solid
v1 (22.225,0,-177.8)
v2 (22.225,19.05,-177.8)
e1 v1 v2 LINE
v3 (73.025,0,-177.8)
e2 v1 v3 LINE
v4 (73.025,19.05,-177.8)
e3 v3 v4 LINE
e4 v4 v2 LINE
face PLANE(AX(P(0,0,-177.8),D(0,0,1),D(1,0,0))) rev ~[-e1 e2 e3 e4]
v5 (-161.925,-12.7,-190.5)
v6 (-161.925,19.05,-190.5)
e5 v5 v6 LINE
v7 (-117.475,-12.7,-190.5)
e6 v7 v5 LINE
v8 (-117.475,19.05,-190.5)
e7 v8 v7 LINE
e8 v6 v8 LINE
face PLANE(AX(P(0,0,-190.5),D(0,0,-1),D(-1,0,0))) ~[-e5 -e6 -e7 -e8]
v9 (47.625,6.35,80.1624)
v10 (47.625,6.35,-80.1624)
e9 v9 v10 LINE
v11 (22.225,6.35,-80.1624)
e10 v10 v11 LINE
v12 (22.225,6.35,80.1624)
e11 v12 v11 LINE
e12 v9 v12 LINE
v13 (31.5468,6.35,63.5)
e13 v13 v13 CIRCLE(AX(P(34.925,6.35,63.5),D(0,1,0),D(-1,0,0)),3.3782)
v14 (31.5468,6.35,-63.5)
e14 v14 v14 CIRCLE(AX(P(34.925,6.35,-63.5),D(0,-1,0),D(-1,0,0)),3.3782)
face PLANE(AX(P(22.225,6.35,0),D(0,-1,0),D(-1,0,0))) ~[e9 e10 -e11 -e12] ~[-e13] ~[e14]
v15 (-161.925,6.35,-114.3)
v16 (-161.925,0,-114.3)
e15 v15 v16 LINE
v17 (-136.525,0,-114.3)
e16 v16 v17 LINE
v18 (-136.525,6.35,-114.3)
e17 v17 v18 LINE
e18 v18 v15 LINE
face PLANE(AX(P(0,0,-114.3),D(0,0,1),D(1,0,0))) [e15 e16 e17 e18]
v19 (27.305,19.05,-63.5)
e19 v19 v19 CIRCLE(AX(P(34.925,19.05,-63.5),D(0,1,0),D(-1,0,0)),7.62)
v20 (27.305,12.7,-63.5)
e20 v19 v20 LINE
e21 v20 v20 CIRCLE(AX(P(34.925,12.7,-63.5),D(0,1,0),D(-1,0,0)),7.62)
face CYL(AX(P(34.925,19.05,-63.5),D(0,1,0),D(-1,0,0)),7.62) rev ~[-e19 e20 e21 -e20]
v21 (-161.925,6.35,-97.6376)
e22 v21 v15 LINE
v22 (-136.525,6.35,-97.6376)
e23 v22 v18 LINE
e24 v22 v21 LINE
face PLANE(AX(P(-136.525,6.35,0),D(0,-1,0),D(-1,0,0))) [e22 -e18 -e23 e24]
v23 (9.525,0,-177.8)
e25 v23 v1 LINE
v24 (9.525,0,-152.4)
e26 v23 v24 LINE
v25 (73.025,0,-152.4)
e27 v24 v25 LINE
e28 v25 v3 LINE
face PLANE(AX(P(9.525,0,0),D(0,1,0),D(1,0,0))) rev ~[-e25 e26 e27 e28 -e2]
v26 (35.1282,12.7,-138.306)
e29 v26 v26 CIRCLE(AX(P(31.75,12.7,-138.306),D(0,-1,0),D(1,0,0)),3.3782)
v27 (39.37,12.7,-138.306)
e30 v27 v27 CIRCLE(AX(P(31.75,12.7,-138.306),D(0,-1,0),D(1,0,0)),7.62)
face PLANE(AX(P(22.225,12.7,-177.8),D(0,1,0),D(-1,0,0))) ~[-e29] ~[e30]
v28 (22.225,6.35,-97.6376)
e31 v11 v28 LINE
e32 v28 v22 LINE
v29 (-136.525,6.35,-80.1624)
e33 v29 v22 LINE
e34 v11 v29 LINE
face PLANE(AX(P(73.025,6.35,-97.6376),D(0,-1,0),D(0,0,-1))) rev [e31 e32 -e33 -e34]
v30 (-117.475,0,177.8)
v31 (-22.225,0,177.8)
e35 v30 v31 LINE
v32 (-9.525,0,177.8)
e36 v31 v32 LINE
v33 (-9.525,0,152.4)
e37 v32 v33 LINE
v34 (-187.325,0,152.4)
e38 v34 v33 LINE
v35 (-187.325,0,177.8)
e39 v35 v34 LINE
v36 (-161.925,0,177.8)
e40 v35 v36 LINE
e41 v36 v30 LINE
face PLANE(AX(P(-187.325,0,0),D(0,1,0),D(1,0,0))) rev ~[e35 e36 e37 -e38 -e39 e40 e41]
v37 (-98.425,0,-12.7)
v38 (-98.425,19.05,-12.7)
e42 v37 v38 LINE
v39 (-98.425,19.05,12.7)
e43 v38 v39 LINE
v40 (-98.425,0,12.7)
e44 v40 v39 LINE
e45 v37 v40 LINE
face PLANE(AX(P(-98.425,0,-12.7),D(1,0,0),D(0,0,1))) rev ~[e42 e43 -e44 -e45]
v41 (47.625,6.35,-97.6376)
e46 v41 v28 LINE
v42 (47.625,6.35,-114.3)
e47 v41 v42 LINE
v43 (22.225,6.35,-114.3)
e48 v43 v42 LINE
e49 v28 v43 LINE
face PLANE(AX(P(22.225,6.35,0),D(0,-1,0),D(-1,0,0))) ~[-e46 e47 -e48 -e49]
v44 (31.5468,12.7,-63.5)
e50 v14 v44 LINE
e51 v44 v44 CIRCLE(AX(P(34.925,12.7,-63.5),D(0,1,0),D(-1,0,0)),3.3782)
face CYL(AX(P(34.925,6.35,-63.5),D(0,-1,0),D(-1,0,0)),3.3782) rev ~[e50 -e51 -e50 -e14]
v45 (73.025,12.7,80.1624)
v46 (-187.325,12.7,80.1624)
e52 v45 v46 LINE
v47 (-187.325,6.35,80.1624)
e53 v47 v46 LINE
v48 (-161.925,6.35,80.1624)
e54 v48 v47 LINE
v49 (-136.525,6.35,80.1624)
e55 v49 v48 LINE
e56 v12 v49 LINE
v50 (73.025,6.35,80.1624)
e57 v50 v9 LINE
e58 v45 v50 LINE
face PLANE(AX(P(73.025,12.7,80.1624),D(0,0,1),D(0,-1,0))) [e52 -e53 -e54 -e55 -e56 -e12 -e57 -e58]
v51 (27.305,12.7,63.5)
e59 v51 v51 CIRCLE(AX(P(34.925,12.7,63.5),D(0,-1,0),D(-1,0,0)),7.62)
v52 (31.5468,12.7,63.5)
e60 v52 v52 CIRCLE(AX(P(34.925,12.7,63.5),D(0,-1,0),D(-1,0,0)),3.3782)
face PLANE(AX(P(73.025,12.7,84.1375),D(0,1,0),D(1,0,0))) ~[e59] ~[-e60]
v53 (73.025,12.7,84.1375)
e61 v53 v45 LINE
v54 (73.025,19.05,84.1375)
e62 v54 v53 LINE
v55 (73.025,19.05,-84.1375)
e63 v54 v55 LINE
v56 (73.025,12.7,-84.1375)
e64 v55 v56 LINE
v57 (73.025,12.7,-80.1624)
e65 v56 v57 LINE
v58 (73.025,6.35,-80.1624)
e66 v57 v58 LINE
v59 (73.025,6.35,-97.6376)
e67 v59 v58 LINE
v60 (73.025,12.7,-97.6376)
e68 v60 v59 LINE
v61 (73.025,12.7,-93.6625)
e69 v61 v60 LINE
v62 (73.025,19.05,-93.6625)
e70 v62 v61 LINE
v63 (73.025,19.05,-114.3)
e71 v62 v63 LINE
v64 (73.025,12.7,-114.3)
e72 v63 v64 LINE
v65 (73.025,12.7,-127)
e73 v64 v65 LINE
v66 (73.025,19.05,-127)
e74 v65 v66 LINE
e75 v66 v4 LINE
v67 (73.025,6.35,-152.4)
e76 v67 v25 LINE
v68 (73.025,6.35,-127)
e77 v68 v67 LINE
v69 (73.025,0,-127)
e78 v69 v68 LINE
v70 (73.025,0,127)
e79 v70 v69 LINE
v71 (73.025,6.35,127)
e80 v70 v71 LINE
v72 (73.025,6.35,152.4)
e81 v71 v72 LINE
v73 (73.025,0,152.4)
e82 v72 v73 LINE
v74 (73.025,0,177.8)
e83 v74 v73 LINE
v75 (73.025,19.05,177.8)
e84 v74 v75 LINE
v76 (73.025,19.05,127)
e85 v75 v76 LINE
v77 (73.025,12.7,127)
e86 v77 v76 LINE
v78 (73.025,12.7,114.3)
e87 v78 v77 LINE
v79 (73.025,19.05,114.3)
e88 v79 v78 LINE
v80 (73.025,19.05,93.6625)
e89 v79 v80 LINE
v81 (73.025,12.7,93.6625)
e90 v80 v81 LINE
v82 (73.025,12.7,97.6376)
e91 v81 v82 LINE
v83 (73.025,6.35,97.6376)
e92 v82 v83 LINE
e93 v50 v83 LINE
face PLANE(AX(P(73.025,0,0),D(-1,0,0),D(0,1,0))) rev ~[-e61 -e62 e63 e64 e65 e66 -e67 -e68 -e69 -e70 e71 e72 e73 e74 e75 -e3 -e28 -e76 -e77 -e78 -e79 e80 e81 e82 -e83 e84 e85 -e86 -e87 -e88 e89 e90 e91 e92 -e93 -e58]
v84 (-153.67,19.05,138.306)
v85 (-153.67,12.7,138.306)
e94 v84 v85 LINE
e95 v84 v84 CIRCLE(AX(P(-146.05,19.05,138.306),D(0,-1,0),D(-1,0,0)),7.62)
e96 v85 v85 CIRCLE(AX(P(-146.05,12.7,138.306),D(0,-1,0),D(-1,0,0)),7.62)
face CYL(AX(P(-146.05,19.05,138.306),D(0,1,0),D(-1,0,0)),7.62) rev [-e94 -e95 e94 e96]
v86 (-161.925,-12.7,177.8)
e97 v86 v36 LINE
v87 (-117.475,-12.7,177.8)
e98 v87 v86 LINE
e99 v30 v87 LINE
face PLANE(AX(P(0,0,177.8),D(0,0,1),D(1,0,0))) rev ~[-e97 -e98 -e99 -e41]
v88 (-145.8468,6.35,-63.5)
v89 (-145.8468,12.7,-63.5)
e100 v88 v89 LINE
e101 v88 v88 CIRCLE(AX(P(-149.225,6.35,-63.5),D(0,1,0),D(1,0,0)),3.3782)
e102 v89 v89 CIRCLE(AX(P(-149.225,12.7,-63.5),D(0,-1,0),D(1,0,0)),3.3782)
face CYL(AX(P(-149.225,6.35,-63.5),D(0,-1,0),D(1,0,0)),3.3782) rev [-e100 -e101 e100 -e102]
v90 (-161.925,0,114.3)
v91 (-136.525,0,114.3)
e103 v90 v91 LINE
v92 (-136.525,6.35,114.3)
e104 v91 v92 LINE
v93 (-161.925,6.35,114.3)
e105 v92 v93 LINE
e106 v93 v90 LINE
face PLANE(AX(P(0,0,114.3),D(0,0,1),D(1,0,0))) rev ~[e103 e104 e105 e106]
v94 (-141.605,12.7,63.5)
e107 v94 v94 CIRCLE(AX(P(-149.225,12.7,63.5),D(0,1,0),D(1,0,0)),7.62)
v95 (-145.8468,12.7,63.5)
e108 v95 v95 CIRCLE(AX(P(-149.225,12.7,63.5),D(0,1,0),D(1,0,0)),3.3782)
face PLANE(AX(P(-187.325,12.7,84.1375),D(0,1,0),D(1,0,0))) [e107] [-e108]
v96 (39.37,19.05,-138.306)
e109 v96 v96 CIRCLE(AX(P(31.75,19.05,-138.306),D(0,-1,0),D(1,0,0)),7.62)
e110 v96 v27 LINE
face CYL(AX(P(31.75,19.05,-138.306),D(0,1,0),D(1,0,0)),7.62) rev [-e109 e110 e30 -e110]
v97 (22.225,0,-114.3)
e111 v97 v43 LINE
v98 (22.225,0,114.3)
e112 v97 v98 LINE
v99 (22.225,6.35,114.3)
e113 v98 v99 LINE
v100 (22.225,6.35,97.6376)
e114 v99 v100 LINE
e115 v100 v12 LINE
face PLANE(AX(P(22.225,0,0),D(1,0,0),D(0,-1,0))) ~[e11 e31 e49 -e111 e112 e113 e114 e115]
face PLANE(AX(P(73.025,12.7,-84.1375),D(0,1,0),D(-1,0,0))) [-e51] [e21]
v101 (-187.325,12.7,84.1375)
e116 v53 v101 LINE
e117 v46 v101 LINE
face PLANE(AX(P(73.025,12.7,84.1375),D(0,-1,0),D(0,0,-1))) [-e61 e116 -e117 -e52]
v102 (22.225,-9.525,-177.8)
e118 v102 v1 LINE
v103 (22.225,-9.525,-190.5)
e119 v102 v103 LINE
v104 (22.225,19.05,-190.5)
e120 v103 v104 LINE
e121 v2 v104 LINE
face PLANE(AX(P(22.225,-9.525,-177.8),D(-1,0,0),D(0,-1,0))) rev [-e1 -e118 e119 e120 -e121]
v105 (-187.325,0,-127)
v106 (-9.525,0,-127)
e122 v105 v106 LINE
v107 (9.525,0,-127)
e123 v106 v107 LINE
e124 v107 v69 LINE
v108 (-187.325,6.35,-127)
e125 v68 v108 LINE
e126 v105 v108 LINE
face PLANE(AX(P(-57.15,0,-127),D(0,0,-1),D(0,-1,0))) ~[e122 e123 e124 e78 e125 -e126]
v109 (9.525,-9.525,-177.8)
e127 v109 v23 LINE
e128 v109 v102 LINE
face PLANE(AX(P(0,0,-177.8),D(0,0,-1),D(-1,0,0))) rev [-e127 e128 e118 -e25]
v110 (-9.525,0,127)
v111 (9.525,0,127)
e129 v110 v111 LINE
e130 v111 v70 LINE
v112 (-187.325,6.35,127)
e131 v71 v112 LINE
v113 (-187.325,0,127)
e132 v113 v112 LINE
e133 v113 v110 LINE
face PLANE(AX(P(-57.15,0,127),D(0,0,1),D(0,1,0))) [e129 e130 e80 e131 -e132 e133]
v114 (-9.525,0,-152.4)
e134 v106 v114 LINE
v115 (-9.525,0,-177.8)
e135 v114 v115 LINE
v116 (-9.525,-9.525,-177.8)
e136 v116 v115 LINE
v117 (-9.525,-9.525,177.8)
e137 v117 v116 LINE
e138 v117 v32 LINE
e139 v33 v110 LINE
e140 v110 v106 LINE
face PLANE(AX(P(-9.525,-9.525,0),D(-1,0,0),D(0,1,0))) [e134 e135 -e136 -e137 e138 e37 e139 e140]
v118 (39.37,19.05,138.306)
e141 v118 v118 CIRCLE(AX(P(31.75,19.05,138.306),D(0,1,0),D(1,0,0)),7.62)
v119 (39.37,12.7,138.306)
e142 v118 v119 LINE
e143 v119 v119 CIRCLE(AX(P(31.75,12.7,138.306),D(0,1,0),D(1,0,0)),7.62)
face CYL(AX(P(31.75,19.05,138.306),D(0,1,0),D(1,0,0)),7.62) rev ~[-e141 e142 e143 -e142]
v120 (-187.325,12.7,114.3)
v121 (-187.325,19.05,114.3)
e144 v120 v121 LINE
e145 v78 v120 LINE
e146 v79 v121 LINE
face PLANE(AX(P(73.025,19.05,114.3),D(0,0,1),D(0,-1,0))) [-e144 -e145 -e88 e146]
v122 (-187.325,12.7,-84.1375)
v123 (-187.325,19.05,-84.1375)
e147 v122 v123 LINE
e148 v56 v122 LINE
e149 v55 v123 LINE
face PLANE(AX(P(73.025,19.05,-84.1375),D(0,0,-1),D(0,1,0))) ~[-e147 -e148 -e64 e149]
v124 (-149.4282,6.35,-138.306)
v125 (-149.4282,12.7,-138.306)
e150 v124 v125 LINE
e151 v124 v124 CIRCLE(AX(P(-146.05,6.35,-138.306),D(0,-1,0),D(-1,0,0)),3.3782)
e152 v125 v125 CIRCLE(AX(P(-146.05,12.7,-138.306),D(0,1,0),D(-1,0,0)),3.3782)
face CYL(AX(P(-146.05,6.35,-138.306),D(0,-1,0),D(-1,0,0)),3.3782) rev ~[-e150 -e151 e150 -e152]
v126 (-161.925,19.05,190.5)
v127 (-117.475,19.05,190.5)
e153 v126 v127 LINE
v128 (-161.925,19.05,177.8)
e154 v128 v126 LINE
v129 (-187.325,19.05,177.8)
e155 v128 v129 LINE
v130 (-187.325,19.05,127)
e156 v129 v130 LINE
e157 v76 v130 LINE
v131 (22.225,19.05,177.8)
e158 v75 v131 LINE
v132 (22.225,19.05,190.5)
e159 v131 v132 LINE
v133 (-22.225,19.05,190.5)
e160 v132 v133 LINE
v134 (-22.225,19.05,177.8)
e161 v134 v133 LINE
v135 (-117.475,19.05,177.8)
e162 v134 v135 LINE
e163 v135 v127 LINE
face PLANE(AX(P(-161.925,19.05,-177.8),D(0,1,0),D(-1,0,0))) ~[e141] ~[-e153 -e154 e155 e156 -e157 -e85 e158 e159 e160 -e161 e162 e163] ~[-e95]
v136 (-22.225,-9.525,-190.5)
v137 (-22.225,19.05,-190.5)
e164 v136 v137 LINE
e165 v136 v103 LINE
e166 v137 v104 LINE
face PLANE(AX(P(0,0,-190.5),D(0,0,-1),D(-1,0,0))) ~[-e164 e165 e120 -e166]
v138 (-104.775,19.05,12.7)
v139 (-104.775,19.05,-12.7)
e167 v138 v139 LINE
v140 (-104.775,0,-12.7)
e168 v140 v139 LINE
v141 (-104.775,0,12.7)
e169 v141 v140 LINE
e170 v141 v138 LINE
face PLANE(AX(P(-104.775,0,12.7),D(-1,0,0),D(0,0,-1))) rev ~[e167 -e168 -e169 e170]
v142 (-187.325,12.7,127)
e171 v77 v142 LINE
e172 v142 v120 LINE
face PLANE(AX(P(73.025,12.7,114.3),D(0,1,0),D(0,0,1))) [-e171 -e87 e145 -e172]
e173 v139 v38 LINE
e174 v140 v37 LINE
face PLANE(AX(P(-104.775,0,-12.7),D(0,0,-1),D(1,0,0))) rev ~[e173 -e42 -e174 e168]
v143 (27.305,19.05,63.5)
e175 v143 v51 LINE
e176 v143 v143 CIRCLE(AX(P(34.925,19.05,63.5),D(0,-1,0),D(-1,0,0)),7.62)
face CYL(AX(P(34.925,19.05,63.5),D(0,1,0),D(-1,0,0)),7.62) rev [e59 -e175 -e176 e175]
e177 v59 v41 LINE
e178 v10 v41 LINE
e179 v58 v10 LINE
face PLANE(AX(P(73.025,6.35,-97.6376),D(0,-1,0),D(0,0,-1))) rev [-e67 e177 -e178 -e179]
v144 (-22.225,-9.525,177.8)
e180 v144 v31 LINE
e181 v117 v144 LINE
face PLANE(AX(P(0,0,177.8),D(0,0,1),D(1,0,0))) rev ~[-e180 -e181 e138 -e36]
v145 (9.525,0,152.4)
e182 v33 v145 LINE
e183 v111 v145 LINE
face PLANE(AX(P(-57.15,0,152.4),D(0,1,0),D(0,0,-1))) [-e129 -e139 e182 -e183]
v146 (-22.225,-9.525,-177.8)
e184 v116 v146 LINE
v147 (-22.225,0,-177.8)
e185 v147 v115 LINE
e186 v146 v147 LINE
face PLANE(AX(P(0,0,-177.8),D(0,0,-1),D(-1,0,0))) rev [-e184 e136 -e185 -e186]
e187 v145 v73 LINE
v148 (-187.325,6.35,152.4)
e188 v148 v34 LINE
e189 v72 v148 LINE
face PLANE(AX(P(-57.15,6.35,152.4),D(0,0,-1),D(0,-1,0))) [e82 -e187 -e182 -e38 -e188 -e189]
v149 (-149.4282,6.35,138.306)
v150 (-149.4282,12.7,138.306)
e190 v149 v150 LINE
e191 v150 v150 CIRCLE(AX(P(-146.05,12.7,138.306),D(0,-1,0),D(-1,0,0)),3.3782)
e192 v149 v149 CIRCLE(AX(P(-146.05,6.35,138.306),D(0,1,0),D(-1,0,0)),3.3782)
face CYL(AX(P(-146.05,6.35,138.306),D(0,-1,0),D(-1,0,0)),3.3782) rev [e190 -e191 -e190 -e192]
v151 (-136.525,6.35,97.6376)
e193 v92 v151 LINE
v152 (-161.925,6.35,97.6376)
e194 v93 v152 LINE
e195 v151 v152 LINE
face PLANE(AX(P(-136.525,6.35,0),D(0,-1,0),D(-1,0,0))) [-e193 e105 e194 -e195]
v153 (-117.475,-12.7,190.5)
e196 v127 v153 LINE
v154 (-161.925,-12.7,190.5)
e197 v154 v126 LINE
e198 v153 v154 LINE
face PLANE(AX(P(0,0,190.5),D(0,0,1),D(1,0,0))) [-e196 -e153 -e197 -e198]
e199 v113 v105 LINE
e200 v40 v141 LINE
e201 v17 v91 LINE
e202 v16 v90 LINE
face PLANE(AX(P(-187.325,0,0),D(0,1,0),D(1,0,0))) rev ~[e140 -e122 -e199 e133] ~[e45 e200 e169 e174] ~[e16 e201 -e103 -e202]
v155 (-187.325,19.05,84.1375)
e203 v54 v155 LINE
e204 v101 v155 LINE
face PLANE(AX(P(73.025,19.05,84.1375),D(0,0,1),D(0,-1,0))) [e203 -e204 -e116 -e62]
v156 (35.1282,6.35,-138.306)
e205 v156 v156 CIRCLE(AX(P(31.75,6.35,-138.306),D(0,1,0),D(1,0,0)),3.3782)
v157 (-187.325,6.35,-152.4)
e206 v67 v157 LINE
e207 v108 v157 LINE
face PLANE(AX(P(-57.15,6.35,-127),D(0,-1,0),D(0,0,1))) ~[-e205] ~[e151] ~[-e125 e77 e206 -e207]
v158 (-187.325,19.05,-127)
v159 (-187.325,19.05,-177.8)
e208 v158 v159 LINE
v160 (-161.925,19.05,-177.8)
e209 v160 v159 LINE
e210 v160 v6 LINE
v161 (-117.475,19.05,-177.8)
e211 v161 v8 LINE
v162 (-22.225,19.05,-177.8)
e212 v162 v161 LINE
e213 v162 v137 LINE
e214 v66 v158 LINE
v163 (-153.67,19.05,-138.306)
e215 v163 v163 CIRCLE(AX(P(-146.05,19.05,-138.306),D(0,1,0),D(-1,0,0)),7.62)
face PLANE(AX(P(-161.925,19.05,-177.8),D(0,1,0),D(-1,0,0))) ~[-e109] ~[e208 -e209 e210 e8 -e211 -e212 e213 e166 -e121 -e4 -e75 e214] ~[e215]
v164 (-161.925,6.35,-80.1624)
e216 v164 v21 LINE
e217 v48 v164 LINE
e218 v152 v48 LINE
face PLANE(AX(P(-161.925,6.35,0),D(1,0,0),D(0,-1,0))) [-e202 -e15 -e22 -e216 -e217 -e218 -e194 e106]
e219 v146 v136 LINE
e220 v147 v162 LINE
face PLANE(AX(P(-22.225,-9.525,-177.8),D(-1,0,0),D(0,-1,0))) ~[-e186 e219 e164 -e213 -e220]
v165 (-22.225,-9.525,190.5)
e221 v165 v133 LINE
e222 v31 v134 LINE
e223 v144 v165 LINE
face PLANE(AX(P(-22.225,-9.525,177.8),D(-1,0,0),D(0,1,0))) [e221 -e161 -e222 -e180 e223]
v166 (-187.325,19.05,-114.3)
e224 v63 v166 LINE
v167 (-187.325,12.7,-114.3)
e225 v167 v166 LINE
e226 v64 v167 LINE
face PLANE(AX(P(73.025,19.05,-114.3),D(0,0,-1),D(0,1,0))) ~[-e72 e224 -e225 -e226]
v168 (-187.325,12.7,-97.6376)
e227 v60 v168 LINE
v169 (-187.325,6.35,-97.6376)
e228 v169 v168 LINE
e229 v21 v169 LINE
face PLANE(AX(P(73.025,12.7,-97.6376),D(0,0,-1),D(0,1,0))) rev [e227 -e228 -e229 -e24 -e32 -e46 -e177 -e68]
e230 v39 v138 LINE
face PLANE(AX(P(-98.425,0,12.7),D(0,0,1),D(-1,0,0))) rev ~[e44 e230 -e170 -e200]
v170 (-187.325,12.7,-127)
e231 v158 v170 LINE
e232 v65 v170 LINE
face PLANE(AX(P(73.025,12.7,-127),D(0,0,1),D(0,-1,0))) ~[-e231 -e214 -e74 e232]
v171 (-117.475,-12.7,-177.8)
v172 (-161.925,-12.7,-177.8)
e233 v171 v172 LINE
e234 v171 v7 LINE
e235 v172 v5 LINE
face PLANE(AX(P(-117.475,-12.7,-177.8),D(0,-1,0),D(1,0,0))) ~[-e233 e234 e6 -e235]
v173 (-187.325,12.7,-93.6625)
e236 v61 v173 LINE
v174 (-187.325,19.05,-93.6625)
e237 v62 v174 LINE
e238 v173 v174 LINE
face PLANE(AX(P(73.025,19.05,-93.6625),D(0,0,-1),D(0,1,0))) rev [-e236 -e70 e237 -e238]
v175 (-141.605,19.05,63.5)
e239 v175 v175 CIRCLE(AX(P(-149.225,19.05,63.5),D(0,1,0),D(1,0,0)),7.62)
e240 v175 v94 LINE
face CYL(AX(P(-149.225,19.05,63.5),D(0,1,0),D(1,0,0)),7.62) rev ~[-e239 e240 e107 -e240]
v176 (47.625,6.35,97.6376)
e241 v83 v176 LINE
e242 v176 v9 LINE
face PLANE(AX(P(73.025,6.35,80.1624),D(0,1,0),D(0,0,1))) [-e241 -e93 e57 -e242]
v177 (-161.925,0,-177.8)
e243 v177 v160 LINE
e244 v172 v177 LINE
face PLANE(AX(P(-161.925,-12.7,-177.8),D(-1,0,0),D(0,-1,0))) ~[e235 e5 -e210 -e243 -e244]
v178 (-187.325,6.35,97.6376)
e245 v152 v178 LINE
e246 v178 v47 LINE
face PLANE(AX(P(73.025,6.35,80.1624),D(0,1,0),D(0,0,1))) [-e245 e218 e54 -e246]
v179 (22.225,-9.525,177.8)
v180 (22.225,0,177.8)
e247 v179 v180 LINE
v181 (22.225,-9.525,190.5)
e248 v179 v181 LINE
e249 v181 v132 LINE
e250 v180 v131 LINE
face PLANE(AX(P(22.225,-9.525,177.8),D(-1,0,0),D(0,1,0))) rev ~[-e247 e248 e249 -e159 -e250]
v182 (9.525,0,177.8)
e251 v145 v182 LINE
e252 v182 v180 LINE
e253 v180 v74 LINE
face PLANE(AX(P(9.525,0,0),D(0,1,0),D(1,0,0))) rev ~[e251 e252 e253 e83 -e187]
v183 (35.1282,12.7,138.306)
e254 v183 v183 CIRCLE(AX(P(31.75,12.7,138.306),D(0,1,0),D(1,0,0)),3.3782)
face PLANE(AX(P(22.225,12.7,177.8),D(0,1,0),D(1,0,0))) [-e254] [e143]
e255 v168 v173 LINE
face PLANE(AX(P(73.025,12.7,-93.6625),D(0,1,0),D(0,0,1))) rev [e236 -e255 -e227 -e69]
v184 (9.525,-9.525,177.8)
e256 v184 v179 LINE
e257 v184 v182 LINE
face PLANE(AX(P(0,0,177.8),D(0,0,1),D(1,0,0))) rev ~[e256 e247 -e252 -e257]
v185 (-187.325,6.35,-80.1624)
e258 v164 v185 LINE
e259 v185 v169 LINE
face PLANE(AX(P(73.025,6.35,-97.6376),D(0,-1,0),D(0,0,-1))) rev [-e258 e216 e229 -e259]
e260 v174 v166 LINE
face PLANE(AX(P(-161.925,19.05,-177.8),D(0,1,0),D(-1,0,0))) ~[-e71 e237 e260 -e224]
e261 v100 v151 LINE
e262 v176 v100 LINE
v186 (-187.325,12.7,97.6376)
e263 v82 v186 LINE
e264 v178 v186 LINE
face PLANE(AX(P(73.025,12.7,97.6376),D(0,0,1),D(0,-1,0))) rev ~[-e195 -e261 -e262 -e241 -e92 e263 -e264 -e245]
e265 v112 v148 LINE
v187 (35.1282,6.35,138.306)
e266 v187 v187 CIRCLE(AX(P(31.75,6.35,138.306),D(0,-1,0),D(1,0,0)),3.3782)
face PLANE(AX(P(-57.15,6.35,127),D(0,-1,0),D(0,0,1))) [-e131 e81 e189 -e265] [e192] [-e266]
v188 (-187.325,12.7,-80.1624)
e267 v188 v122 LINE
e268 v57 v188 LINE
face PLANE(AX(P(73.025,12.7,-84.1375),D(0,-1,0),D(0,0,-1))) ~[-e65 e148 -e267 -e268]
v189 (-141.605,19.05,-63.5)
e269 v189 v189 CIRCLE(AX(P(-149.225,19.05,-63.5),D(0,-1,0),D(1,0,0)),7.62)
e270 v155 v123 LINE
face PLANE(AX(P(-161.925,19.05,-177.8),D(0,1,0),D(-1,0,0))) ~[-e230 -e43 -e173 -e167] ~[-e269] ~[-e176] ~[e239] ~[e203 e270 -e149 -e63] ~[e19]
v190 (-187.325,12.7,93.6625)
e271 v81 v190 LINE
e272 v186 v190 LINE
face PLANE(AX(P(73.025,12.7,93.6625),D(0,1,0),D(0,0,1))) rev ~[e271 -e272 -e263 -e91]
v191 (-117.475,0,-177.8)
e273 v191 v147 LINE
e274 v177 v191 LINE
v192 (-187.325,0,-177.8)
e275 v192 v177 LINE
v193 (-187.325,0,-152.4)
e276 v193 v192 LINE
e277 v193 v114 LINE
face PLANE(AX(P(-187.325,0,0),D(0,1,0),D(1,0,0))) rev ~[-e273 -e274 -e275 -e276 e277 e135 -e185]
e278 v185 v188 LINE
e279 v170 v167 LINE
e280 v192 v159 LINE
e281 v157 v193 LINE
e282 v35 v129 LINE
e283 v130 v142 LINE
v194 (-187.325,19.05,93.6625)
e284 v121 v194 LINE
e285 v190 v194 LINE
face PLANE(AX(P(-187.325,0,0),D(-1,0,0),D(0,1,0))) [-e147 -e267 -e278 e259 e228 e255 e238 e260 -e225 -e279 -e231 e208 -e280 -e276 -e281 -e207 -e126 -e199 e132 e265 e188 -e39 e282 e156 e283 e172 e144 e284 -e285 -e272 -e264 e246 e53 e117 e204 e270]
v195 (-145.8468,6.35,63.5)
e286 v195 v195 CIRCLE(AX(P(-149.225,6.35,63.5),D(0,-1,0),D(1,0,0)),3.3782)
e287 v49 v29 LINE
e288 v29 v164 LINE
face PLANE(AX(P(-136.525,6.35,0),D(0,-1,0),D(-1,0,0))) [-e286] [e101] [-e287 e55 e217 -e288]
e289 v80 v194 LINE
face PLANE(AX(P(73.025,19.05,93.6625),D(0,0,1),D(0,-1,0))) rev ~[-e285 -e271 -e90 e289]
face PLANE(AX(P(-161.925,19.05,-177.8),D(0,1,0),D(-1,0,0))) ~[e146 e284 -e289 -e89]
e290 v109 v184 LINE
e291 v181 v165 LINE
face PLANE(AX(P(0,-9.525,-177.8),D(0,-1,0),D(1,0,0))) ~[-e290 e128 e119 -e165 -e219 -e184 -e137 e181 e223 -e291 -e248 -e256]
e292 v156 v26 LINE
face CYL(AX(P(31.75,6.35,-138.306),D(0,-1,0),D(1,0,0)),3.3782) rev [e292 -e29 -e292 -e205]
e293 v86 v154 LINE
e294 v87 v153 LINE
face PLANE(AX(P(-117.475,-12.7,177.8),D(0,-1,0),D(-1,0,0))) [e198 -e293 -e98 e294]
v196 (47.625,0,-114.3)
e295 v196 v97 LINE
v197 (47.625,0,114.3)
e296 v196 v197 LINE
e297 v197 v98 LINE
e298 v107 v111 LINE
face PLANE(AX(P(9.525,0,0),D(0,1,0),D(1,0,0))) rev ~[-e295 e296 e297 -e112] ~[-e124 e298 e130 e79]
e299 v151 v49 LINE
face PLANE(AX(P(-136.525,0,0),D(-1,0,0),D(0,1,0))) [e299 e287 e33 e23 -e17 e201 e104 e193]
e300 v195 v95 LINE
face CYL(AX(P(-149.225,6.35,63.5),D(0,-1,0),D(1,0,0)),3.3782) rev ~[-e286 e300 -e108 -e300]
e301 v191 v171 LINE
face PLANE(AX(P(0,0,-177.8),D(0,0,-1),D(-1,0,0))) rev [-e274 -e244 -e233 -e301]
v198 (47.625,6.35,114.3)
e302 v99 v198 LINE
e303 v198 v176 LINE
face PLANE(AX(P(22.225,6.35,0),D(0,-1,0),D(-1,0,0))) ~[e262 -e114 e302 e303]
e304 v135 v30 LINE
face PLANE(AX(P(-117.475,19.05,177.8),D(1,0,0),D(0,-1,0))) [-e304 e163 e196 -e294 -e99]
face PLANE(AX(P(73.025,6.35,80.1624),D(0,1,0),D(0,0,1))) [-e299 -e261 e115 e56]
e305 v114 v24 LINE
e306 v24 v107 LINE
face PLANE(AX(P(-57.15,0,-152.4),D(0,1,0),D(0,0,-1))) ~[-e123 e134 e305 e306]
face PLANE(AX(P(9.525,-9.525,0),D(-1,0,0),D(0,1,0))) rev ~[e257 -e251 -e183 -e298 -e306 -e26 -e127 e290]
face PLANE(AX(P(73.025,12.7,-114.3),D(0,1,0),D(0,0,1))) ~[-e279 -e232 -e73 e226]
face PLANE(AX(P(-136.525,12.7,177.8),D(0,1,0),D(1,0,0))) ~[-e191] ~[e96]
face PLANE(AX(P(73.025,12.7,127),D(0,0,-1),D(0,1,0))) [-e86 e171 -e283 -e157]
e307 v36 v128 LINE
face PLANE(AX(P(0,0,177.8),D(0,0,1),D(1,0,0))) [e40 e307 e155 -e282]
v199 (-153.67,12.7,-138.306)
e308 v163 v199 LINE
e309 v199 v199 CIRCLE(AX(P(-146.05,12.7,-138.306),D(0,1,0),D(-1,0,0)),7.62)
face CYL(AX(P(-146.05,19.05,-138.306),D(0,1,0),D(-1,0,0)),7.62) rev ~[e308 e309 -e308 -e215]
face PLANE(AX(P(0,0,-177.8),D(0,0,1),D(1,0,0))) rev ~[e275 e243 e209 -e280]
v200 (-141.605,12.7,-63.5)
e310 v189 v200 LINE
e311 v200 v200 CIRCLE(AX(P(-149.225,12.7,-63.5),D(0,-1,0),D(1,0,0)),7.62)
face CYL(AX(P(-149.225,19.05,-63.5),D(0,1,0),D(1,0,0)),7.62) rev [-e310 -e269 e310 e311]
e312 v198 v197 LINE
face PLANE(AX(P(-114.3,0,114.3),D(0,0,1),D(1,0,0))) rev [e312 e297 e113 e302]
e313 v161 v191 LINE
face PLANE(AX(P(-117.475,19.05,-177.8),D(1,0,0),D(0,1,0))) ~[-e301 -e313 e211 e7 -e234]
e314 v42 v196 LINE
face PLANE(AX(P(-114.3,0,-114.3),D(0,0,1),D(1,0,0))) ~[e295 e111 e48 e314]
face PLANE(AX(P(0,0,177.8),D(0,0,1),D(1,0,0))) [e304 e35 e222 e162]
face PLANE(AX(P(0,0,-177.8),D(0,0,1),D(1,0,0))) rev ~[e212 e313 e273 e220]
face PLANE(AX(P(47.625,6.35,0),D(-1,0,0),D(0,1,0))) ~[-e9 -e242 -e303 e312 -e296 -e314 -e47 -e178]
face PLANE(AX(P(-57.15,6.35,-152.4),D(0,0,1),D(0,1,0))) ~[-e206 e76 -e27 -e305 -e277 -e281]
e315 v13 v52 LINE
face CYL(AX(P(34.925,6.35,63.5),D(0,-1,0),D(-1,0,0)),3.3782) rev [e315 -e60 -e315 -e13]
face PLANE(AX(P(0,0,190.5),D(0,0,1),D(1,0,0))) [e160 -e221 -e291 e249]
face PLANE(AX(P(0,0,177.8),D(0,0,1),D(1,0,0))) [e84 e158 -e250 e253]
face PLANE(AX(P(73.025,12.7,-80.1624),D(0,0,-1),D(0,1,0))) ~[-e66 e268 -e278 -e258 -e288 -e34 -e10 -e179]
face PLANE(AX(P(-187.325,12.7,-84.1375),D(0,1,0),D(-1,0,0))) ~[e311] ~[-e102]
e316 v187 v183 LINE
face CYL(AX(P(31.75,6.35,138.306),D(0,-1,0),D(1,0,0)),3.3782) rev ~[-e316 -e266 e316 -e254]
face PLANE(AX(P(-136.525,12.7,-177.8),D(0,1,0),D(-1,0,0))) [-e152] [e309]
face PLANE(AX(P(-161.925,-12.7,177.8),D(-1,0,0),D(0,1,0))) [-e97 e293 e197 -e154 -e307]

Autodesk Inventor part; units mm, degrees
ref_plane "YZ Plane" through (0, 0, 0) normal (1, 0, 0) x (0, 1, 0)
ref_plane "XZ Plane" through (0, 0, 0) normal (0, 1, 0) x (-1, 0, 0)
sketch "Sketch3" plane through (0, 0, 0) normal (0, 0, 1) x (1, 0, 0)
  line L0 (0, -9.525) -> (9.525, -9.525)
  line L1 (9.525, -9.525) -> (9.525, 0)
  line L2 (0, 0) -> (0, -9.525) construction
  line L3 (0, 0) -> (9.525, 0) construction
  line L4 (0, -9.525) -> (-9.525, -9.525)
  line L5 (-9.525, -9.525) -> (-9.525, 0)
  line L6 (9.525, 0) -> (73.025, 0)
  line L7 (-187.325, 0) -> (-187.325, 19.05)
  line L8 (-187.325, 0) -> (-9.525, 0)
  line L9 (73.025, 0) -> (73.025, 19.05)
  line L10 (73.025, 19.05) -> (-187.325, 19.05)
  dimension "d0" = 9.525
  dimension "d1" = 9.525
  dimension "d6" = 63.5
  dimension "d8" = 19.05
  dimension "d9" = 177.8
extrude "Extrusion1" add sketch "Sketch3" along normal mid plane 355.6
sketch "Sketch4" plane through (0, 0, 177.8) normal (0, 0, 1) x (1, 0, 0)
  line L0 (-187.325, 19.05) -> (73.025, 19.05) construction
  line L1 (0, 19.05) -> (0, -9.525) construction
  line L2 (9.525, -9.525) -> (-9.525, -9.525) construction
  line L3 (0, -9.525) -> (-22.225, -9.525)
  line L4 (-22.225, -9.525) -> (-22.225, 19.05)
  line L5 (-22.225, 19.05) -> (0, 19.05)
  line L6 (187.325, 19.05) -> (-73.025, 19.05) construction
  line L7 (0, -9.525) -> (22.225, -9.525)
  line L8 (22.225, -9.525) -> (22.225, 19.05)
  line L9 (0, 19.05) -> (22.225, 19.05)
  point P0 (0, 0)
  dimension "d12" = 22.225
extrude "Extrusion2" add sketch "Sketch4" along normal blind 12.7
mirror "Mirror1" about plane through (0, 0, 0) normal (0, 0, 1) of "Extrusion2"
sketch "Sketch6" plane through (-187.325, 0, -177.8) normal (0, -1, 0) x (1, 0, 0)
  line L0 (82.55, 165.1) -> (88.9, 165.1)
  line L1 (88.9, 165.1) -> (88.9, 190.5)
  line L2 (88.9, 190.5) -> (82.55, 190.5)
  line L3 (82.55, 190.5) -> (82.55, 165.1)
  line L4 (82.55, 165.1) -> (88.9, 190.5) construction
  line L5 (88.9, 165.1) -> (82.55, 190.5) construction
  line L6 (177.8, 0) -> (177.8, 355.6) projected
  point P0 (187.325, 177.8)
  point P1 (85.725, 177.8)
  dimension "d16" = 12.7
  dimension "d18" = 6.35
  dimension "d19" = 88.9
extrude "Extrusion3" cut sketch "Sketch6" against normal through all
sketch "Sketch7" plane through (0, 0, 177.8) normal (0, 0, 1) x (1, 0, 0)
  line L0 (-187.325, 19.05) -> (-22.225, 19.05) projected
  line L1 (-161.925, 19.05) -> (-117.475, 19.05)
  line L2 (-117.475, 19.05) -> (-117.475, -12.7)
  line L3 (-117.475, -12.7) -> (-161.925, -12.7)
  line L4 (-161.925, -12.7) -> (-161.925, 19.05)
  line L5 (-187.325, 19.05) -> (-187.325, 0) projected
  point P0 (0, 0)
  dimension "d22" = 44.45
  dimension "d23" = 31.75
  dimension "d24" = 25.4
extrude "Extrusion4" add sketch "Sketch7" along normal blind 12.7
mirror "Mirror2" about plane through (0, 0, 0) normal (0, 0, 1) of "Extrusion4"
sketch "Sketch9" plane through (73.025, 0, 177.8) normal (1, 0, 0) x (0, 0, -1)
  line L0 (355.6, 19.05) -> (0, 19.05) projected
  line L1 (50.8, 19.05) -> (63.5, 19.05)
  line L2 (63.5, 19.05) -> (63.5, 12.7)
  line L3 (63.5, 12.7) -> (50.8, 12.7)
  line L4 (50.8, 12.7) -> (50.8, 19.05)
  line L5 (0, 0) -> (0, 19.05) projected
  point P0 (177.8, 0)
  dimension "d28" = 12.7
  dimension "d29" = 6.35
  dimension "d30" = 50.8
extrude "Extrusion5" cut sketch "Sketch9" against normal through all
mirror "Mirror3" about plane through (0, 0, 0) normal (0, 0, 1) of "Extrusion5"
sketch "Sketch12" plane through (73.025, 0, 177.8) normal (1, 0, 0) x (0, 0, -1)
  line L0 (355.6, 0) -> (0, 0) construction
  line L1 (88.9, 0) -> (88.9, 16.5009) construction
  line L2 (0, 0) -> (0, 19.05) projected
  line L3 (50.8, 19.05) -> (0, 19.05) projected
  line L4 (84.1375, 19.05) -> (84.1375, 12.7)
  line L5 (84.1375, 12.7) -> (80.1624, 12.7)
  line L6 (80.1624, 12.7) -> (80.1624, 6.35)
  line L7 (80.1624, 6.35) -> (88.9, 6.35)
  line L8 (93.6625, 19.05) -> (93.6625, 12.7)
  line L9 (93.6625, 12.7) -> (97.6376, 12.7)
  line L10 (97.6376, 12.7) -> (97.6376, 6.35)
  line L11 (97.6376, 6.35) -> (88.9, 6.35)
  line L12 (84.1375, 19.05) -> (93.6625, 19.05)
  point P0 (177.8, 0)
  dimension "d46" = 88.9
  dimension "d47" = 4.7625
  dimension "d48" = 6.35
  dimension "d49" = 6.35
  dimension "d50" = 8.7376
extrude "Extrusion8" cut sketch "Sketch12" against normal through all
mirror "Mirror4" about plane through (0, 0, 0) normal (0, 0, 1) of "Extrusion8"
ref_plane "Work Plane1" through (-57.15, 0, 177.8) normal (1, 0, 0) x (0, 0, -1)
sketch "Sketch13" plane through (-57.15, 0, 177.8) normal (1, 0, 0) x (0, 0, -1)
  line L0 (25.4, 0) -> (50.8, 0)
  line L1 (50.8, 0) -> (50.8, 6.35)
  line L2 (50.8, 6.35) -> (25.4, 6.35)
  line L3 (25.4, 6.35) -> (25.4, 0)
  line L4 (0, 0) -> (0, 19.05) projected
  point P0 (177.8, 0)
  dimension "d54" = 25.4
  dimension "d55" = 6.35
  dimension "d56" = 25.4
extrude "Extrusion9" cut sketch "Sketch13" along normal mid plane 260.35
mirror "Mirror5" about plane through (0, 0, 0) normal (0, 0, 1) of "Extrusion9"
sketch "Sketch14" plane through (0, 0, 0) normal (0, 0, 1) x (1, 0, 0)
  line L0 (-187.325, 0) -> (-161.925, 0) projected
  line L1 (-161.925, 0) -> (-136.525, 0)
  line L2 (-136.525, 0) -> (-136.525, 6.35)
  line L3 (-136.525, 6.35) -> (-161.925, 6.35)
  line L4 (-161.925, 6.35) -> (-161.925, 0)
  line L5 (-187.325, 19.05) -> (-187.325, 0) projected
  point P0 (0, 0)
  dimension "d59" = 25.4
  dimension "d60" = 6.35
  dimension "d61" = 25.4
extrude "Extrusion10" cut sketch "Sketch14" along normal mid plane 228.6
mirror "Mirror6" about plane through (-57.15, 0, 177.8) normal (1, 0, 0) of "Extrusion10"
sketch "Sketch16" plane through (-161.925, 6.35, -80.1624) normal (0, -1, 0) x (1, 0, 0)
  circle A0 centre (12.7, 143.6624) radius 3.3782
  line L0 (0, 194.4624) -> (25.4, 194.4624) projected
  line L1 (0, -34.1376) -> (0, 194.4624) projected
  point P0 (161.925, 80.1624)
  dimension "d71" = 6.7564
  dimension "d72" = 50.8
  dimension "d73" = 12.7
extrude "Extrusion11" cut sketch "Sketch16" against normal through all
sketch "Sketch17" plane through (-187.325, 19.05, 84.1375) normal (0, 1, 0) x (1, 0, 0)
  circle A0 centre (38.1, 20.6375) radius 3.3782 projected
  circle A1 centre (38.1, 20.6375) radius 7.62
  point P0 (187.325, 84.1375)
  dimension "d76" = 15.24
extrude "Extrusion12" cut sketch "Sketch17" against normal blind 6.35
mirror "Mirror7" about plane through (0, 0, 0) normal (0, 0, 1) of "Extrusion12", "Extrusion11"
mirror "Mirror8" about plane through (-57.15, 0, 177.8) normal (1, 0, 0) of "Extrusion12", "Extrusion11", "Mirror7"
sketch "Sketch18" plane through (-171.45, 6.35, 152.4) normal (0, -1, 0) x (1, 0, 0)
  circle A0 centre (203.2, -14.094) radius 3.3782
  line L0 (228.6, 0) -> (228.6, -25.4) projected
  point P0 (171.45, -152.4)
  dimension "d79" = 6.7564
  dimension "d80" = 25.4
extrude "Extrusion13" cut sketch "Sketch18" against normal through all
sketch "Sketch19" plane through (22.225, 19.05, 177.8) normal (0, 1, 0) x (1, 0, 0)
  circle A0 centre (9.525, 39.494) radius 3.3782 projected
  circle A1 centre (9.525, 39.494) radius 7.62
  point P0 (-22.225, 177.8)
  dimension "d83" = 15.24
extrude "Extrusion14" cut sketch "Sketch19" against normal blind 6.35
mirror "Mirror9" about plane through (-57.15, 0, 177.8) normal (1, 0, 0) of "Extrusion13", "Extrusion14"
mirror "Mirror10" about plane through (0, 0, 0) normal (0, 0, 1) of "Extrusion14", "Extrusion13", "Mirror9"
equation "\"d10\" = length"
equation "\"width\" = 260.35"
equation "\"length\" = 355.6"
equation "\"d53\" = -0.5 * width"
properties part number "BandSawJigBottom" material "LCP Plastic"
